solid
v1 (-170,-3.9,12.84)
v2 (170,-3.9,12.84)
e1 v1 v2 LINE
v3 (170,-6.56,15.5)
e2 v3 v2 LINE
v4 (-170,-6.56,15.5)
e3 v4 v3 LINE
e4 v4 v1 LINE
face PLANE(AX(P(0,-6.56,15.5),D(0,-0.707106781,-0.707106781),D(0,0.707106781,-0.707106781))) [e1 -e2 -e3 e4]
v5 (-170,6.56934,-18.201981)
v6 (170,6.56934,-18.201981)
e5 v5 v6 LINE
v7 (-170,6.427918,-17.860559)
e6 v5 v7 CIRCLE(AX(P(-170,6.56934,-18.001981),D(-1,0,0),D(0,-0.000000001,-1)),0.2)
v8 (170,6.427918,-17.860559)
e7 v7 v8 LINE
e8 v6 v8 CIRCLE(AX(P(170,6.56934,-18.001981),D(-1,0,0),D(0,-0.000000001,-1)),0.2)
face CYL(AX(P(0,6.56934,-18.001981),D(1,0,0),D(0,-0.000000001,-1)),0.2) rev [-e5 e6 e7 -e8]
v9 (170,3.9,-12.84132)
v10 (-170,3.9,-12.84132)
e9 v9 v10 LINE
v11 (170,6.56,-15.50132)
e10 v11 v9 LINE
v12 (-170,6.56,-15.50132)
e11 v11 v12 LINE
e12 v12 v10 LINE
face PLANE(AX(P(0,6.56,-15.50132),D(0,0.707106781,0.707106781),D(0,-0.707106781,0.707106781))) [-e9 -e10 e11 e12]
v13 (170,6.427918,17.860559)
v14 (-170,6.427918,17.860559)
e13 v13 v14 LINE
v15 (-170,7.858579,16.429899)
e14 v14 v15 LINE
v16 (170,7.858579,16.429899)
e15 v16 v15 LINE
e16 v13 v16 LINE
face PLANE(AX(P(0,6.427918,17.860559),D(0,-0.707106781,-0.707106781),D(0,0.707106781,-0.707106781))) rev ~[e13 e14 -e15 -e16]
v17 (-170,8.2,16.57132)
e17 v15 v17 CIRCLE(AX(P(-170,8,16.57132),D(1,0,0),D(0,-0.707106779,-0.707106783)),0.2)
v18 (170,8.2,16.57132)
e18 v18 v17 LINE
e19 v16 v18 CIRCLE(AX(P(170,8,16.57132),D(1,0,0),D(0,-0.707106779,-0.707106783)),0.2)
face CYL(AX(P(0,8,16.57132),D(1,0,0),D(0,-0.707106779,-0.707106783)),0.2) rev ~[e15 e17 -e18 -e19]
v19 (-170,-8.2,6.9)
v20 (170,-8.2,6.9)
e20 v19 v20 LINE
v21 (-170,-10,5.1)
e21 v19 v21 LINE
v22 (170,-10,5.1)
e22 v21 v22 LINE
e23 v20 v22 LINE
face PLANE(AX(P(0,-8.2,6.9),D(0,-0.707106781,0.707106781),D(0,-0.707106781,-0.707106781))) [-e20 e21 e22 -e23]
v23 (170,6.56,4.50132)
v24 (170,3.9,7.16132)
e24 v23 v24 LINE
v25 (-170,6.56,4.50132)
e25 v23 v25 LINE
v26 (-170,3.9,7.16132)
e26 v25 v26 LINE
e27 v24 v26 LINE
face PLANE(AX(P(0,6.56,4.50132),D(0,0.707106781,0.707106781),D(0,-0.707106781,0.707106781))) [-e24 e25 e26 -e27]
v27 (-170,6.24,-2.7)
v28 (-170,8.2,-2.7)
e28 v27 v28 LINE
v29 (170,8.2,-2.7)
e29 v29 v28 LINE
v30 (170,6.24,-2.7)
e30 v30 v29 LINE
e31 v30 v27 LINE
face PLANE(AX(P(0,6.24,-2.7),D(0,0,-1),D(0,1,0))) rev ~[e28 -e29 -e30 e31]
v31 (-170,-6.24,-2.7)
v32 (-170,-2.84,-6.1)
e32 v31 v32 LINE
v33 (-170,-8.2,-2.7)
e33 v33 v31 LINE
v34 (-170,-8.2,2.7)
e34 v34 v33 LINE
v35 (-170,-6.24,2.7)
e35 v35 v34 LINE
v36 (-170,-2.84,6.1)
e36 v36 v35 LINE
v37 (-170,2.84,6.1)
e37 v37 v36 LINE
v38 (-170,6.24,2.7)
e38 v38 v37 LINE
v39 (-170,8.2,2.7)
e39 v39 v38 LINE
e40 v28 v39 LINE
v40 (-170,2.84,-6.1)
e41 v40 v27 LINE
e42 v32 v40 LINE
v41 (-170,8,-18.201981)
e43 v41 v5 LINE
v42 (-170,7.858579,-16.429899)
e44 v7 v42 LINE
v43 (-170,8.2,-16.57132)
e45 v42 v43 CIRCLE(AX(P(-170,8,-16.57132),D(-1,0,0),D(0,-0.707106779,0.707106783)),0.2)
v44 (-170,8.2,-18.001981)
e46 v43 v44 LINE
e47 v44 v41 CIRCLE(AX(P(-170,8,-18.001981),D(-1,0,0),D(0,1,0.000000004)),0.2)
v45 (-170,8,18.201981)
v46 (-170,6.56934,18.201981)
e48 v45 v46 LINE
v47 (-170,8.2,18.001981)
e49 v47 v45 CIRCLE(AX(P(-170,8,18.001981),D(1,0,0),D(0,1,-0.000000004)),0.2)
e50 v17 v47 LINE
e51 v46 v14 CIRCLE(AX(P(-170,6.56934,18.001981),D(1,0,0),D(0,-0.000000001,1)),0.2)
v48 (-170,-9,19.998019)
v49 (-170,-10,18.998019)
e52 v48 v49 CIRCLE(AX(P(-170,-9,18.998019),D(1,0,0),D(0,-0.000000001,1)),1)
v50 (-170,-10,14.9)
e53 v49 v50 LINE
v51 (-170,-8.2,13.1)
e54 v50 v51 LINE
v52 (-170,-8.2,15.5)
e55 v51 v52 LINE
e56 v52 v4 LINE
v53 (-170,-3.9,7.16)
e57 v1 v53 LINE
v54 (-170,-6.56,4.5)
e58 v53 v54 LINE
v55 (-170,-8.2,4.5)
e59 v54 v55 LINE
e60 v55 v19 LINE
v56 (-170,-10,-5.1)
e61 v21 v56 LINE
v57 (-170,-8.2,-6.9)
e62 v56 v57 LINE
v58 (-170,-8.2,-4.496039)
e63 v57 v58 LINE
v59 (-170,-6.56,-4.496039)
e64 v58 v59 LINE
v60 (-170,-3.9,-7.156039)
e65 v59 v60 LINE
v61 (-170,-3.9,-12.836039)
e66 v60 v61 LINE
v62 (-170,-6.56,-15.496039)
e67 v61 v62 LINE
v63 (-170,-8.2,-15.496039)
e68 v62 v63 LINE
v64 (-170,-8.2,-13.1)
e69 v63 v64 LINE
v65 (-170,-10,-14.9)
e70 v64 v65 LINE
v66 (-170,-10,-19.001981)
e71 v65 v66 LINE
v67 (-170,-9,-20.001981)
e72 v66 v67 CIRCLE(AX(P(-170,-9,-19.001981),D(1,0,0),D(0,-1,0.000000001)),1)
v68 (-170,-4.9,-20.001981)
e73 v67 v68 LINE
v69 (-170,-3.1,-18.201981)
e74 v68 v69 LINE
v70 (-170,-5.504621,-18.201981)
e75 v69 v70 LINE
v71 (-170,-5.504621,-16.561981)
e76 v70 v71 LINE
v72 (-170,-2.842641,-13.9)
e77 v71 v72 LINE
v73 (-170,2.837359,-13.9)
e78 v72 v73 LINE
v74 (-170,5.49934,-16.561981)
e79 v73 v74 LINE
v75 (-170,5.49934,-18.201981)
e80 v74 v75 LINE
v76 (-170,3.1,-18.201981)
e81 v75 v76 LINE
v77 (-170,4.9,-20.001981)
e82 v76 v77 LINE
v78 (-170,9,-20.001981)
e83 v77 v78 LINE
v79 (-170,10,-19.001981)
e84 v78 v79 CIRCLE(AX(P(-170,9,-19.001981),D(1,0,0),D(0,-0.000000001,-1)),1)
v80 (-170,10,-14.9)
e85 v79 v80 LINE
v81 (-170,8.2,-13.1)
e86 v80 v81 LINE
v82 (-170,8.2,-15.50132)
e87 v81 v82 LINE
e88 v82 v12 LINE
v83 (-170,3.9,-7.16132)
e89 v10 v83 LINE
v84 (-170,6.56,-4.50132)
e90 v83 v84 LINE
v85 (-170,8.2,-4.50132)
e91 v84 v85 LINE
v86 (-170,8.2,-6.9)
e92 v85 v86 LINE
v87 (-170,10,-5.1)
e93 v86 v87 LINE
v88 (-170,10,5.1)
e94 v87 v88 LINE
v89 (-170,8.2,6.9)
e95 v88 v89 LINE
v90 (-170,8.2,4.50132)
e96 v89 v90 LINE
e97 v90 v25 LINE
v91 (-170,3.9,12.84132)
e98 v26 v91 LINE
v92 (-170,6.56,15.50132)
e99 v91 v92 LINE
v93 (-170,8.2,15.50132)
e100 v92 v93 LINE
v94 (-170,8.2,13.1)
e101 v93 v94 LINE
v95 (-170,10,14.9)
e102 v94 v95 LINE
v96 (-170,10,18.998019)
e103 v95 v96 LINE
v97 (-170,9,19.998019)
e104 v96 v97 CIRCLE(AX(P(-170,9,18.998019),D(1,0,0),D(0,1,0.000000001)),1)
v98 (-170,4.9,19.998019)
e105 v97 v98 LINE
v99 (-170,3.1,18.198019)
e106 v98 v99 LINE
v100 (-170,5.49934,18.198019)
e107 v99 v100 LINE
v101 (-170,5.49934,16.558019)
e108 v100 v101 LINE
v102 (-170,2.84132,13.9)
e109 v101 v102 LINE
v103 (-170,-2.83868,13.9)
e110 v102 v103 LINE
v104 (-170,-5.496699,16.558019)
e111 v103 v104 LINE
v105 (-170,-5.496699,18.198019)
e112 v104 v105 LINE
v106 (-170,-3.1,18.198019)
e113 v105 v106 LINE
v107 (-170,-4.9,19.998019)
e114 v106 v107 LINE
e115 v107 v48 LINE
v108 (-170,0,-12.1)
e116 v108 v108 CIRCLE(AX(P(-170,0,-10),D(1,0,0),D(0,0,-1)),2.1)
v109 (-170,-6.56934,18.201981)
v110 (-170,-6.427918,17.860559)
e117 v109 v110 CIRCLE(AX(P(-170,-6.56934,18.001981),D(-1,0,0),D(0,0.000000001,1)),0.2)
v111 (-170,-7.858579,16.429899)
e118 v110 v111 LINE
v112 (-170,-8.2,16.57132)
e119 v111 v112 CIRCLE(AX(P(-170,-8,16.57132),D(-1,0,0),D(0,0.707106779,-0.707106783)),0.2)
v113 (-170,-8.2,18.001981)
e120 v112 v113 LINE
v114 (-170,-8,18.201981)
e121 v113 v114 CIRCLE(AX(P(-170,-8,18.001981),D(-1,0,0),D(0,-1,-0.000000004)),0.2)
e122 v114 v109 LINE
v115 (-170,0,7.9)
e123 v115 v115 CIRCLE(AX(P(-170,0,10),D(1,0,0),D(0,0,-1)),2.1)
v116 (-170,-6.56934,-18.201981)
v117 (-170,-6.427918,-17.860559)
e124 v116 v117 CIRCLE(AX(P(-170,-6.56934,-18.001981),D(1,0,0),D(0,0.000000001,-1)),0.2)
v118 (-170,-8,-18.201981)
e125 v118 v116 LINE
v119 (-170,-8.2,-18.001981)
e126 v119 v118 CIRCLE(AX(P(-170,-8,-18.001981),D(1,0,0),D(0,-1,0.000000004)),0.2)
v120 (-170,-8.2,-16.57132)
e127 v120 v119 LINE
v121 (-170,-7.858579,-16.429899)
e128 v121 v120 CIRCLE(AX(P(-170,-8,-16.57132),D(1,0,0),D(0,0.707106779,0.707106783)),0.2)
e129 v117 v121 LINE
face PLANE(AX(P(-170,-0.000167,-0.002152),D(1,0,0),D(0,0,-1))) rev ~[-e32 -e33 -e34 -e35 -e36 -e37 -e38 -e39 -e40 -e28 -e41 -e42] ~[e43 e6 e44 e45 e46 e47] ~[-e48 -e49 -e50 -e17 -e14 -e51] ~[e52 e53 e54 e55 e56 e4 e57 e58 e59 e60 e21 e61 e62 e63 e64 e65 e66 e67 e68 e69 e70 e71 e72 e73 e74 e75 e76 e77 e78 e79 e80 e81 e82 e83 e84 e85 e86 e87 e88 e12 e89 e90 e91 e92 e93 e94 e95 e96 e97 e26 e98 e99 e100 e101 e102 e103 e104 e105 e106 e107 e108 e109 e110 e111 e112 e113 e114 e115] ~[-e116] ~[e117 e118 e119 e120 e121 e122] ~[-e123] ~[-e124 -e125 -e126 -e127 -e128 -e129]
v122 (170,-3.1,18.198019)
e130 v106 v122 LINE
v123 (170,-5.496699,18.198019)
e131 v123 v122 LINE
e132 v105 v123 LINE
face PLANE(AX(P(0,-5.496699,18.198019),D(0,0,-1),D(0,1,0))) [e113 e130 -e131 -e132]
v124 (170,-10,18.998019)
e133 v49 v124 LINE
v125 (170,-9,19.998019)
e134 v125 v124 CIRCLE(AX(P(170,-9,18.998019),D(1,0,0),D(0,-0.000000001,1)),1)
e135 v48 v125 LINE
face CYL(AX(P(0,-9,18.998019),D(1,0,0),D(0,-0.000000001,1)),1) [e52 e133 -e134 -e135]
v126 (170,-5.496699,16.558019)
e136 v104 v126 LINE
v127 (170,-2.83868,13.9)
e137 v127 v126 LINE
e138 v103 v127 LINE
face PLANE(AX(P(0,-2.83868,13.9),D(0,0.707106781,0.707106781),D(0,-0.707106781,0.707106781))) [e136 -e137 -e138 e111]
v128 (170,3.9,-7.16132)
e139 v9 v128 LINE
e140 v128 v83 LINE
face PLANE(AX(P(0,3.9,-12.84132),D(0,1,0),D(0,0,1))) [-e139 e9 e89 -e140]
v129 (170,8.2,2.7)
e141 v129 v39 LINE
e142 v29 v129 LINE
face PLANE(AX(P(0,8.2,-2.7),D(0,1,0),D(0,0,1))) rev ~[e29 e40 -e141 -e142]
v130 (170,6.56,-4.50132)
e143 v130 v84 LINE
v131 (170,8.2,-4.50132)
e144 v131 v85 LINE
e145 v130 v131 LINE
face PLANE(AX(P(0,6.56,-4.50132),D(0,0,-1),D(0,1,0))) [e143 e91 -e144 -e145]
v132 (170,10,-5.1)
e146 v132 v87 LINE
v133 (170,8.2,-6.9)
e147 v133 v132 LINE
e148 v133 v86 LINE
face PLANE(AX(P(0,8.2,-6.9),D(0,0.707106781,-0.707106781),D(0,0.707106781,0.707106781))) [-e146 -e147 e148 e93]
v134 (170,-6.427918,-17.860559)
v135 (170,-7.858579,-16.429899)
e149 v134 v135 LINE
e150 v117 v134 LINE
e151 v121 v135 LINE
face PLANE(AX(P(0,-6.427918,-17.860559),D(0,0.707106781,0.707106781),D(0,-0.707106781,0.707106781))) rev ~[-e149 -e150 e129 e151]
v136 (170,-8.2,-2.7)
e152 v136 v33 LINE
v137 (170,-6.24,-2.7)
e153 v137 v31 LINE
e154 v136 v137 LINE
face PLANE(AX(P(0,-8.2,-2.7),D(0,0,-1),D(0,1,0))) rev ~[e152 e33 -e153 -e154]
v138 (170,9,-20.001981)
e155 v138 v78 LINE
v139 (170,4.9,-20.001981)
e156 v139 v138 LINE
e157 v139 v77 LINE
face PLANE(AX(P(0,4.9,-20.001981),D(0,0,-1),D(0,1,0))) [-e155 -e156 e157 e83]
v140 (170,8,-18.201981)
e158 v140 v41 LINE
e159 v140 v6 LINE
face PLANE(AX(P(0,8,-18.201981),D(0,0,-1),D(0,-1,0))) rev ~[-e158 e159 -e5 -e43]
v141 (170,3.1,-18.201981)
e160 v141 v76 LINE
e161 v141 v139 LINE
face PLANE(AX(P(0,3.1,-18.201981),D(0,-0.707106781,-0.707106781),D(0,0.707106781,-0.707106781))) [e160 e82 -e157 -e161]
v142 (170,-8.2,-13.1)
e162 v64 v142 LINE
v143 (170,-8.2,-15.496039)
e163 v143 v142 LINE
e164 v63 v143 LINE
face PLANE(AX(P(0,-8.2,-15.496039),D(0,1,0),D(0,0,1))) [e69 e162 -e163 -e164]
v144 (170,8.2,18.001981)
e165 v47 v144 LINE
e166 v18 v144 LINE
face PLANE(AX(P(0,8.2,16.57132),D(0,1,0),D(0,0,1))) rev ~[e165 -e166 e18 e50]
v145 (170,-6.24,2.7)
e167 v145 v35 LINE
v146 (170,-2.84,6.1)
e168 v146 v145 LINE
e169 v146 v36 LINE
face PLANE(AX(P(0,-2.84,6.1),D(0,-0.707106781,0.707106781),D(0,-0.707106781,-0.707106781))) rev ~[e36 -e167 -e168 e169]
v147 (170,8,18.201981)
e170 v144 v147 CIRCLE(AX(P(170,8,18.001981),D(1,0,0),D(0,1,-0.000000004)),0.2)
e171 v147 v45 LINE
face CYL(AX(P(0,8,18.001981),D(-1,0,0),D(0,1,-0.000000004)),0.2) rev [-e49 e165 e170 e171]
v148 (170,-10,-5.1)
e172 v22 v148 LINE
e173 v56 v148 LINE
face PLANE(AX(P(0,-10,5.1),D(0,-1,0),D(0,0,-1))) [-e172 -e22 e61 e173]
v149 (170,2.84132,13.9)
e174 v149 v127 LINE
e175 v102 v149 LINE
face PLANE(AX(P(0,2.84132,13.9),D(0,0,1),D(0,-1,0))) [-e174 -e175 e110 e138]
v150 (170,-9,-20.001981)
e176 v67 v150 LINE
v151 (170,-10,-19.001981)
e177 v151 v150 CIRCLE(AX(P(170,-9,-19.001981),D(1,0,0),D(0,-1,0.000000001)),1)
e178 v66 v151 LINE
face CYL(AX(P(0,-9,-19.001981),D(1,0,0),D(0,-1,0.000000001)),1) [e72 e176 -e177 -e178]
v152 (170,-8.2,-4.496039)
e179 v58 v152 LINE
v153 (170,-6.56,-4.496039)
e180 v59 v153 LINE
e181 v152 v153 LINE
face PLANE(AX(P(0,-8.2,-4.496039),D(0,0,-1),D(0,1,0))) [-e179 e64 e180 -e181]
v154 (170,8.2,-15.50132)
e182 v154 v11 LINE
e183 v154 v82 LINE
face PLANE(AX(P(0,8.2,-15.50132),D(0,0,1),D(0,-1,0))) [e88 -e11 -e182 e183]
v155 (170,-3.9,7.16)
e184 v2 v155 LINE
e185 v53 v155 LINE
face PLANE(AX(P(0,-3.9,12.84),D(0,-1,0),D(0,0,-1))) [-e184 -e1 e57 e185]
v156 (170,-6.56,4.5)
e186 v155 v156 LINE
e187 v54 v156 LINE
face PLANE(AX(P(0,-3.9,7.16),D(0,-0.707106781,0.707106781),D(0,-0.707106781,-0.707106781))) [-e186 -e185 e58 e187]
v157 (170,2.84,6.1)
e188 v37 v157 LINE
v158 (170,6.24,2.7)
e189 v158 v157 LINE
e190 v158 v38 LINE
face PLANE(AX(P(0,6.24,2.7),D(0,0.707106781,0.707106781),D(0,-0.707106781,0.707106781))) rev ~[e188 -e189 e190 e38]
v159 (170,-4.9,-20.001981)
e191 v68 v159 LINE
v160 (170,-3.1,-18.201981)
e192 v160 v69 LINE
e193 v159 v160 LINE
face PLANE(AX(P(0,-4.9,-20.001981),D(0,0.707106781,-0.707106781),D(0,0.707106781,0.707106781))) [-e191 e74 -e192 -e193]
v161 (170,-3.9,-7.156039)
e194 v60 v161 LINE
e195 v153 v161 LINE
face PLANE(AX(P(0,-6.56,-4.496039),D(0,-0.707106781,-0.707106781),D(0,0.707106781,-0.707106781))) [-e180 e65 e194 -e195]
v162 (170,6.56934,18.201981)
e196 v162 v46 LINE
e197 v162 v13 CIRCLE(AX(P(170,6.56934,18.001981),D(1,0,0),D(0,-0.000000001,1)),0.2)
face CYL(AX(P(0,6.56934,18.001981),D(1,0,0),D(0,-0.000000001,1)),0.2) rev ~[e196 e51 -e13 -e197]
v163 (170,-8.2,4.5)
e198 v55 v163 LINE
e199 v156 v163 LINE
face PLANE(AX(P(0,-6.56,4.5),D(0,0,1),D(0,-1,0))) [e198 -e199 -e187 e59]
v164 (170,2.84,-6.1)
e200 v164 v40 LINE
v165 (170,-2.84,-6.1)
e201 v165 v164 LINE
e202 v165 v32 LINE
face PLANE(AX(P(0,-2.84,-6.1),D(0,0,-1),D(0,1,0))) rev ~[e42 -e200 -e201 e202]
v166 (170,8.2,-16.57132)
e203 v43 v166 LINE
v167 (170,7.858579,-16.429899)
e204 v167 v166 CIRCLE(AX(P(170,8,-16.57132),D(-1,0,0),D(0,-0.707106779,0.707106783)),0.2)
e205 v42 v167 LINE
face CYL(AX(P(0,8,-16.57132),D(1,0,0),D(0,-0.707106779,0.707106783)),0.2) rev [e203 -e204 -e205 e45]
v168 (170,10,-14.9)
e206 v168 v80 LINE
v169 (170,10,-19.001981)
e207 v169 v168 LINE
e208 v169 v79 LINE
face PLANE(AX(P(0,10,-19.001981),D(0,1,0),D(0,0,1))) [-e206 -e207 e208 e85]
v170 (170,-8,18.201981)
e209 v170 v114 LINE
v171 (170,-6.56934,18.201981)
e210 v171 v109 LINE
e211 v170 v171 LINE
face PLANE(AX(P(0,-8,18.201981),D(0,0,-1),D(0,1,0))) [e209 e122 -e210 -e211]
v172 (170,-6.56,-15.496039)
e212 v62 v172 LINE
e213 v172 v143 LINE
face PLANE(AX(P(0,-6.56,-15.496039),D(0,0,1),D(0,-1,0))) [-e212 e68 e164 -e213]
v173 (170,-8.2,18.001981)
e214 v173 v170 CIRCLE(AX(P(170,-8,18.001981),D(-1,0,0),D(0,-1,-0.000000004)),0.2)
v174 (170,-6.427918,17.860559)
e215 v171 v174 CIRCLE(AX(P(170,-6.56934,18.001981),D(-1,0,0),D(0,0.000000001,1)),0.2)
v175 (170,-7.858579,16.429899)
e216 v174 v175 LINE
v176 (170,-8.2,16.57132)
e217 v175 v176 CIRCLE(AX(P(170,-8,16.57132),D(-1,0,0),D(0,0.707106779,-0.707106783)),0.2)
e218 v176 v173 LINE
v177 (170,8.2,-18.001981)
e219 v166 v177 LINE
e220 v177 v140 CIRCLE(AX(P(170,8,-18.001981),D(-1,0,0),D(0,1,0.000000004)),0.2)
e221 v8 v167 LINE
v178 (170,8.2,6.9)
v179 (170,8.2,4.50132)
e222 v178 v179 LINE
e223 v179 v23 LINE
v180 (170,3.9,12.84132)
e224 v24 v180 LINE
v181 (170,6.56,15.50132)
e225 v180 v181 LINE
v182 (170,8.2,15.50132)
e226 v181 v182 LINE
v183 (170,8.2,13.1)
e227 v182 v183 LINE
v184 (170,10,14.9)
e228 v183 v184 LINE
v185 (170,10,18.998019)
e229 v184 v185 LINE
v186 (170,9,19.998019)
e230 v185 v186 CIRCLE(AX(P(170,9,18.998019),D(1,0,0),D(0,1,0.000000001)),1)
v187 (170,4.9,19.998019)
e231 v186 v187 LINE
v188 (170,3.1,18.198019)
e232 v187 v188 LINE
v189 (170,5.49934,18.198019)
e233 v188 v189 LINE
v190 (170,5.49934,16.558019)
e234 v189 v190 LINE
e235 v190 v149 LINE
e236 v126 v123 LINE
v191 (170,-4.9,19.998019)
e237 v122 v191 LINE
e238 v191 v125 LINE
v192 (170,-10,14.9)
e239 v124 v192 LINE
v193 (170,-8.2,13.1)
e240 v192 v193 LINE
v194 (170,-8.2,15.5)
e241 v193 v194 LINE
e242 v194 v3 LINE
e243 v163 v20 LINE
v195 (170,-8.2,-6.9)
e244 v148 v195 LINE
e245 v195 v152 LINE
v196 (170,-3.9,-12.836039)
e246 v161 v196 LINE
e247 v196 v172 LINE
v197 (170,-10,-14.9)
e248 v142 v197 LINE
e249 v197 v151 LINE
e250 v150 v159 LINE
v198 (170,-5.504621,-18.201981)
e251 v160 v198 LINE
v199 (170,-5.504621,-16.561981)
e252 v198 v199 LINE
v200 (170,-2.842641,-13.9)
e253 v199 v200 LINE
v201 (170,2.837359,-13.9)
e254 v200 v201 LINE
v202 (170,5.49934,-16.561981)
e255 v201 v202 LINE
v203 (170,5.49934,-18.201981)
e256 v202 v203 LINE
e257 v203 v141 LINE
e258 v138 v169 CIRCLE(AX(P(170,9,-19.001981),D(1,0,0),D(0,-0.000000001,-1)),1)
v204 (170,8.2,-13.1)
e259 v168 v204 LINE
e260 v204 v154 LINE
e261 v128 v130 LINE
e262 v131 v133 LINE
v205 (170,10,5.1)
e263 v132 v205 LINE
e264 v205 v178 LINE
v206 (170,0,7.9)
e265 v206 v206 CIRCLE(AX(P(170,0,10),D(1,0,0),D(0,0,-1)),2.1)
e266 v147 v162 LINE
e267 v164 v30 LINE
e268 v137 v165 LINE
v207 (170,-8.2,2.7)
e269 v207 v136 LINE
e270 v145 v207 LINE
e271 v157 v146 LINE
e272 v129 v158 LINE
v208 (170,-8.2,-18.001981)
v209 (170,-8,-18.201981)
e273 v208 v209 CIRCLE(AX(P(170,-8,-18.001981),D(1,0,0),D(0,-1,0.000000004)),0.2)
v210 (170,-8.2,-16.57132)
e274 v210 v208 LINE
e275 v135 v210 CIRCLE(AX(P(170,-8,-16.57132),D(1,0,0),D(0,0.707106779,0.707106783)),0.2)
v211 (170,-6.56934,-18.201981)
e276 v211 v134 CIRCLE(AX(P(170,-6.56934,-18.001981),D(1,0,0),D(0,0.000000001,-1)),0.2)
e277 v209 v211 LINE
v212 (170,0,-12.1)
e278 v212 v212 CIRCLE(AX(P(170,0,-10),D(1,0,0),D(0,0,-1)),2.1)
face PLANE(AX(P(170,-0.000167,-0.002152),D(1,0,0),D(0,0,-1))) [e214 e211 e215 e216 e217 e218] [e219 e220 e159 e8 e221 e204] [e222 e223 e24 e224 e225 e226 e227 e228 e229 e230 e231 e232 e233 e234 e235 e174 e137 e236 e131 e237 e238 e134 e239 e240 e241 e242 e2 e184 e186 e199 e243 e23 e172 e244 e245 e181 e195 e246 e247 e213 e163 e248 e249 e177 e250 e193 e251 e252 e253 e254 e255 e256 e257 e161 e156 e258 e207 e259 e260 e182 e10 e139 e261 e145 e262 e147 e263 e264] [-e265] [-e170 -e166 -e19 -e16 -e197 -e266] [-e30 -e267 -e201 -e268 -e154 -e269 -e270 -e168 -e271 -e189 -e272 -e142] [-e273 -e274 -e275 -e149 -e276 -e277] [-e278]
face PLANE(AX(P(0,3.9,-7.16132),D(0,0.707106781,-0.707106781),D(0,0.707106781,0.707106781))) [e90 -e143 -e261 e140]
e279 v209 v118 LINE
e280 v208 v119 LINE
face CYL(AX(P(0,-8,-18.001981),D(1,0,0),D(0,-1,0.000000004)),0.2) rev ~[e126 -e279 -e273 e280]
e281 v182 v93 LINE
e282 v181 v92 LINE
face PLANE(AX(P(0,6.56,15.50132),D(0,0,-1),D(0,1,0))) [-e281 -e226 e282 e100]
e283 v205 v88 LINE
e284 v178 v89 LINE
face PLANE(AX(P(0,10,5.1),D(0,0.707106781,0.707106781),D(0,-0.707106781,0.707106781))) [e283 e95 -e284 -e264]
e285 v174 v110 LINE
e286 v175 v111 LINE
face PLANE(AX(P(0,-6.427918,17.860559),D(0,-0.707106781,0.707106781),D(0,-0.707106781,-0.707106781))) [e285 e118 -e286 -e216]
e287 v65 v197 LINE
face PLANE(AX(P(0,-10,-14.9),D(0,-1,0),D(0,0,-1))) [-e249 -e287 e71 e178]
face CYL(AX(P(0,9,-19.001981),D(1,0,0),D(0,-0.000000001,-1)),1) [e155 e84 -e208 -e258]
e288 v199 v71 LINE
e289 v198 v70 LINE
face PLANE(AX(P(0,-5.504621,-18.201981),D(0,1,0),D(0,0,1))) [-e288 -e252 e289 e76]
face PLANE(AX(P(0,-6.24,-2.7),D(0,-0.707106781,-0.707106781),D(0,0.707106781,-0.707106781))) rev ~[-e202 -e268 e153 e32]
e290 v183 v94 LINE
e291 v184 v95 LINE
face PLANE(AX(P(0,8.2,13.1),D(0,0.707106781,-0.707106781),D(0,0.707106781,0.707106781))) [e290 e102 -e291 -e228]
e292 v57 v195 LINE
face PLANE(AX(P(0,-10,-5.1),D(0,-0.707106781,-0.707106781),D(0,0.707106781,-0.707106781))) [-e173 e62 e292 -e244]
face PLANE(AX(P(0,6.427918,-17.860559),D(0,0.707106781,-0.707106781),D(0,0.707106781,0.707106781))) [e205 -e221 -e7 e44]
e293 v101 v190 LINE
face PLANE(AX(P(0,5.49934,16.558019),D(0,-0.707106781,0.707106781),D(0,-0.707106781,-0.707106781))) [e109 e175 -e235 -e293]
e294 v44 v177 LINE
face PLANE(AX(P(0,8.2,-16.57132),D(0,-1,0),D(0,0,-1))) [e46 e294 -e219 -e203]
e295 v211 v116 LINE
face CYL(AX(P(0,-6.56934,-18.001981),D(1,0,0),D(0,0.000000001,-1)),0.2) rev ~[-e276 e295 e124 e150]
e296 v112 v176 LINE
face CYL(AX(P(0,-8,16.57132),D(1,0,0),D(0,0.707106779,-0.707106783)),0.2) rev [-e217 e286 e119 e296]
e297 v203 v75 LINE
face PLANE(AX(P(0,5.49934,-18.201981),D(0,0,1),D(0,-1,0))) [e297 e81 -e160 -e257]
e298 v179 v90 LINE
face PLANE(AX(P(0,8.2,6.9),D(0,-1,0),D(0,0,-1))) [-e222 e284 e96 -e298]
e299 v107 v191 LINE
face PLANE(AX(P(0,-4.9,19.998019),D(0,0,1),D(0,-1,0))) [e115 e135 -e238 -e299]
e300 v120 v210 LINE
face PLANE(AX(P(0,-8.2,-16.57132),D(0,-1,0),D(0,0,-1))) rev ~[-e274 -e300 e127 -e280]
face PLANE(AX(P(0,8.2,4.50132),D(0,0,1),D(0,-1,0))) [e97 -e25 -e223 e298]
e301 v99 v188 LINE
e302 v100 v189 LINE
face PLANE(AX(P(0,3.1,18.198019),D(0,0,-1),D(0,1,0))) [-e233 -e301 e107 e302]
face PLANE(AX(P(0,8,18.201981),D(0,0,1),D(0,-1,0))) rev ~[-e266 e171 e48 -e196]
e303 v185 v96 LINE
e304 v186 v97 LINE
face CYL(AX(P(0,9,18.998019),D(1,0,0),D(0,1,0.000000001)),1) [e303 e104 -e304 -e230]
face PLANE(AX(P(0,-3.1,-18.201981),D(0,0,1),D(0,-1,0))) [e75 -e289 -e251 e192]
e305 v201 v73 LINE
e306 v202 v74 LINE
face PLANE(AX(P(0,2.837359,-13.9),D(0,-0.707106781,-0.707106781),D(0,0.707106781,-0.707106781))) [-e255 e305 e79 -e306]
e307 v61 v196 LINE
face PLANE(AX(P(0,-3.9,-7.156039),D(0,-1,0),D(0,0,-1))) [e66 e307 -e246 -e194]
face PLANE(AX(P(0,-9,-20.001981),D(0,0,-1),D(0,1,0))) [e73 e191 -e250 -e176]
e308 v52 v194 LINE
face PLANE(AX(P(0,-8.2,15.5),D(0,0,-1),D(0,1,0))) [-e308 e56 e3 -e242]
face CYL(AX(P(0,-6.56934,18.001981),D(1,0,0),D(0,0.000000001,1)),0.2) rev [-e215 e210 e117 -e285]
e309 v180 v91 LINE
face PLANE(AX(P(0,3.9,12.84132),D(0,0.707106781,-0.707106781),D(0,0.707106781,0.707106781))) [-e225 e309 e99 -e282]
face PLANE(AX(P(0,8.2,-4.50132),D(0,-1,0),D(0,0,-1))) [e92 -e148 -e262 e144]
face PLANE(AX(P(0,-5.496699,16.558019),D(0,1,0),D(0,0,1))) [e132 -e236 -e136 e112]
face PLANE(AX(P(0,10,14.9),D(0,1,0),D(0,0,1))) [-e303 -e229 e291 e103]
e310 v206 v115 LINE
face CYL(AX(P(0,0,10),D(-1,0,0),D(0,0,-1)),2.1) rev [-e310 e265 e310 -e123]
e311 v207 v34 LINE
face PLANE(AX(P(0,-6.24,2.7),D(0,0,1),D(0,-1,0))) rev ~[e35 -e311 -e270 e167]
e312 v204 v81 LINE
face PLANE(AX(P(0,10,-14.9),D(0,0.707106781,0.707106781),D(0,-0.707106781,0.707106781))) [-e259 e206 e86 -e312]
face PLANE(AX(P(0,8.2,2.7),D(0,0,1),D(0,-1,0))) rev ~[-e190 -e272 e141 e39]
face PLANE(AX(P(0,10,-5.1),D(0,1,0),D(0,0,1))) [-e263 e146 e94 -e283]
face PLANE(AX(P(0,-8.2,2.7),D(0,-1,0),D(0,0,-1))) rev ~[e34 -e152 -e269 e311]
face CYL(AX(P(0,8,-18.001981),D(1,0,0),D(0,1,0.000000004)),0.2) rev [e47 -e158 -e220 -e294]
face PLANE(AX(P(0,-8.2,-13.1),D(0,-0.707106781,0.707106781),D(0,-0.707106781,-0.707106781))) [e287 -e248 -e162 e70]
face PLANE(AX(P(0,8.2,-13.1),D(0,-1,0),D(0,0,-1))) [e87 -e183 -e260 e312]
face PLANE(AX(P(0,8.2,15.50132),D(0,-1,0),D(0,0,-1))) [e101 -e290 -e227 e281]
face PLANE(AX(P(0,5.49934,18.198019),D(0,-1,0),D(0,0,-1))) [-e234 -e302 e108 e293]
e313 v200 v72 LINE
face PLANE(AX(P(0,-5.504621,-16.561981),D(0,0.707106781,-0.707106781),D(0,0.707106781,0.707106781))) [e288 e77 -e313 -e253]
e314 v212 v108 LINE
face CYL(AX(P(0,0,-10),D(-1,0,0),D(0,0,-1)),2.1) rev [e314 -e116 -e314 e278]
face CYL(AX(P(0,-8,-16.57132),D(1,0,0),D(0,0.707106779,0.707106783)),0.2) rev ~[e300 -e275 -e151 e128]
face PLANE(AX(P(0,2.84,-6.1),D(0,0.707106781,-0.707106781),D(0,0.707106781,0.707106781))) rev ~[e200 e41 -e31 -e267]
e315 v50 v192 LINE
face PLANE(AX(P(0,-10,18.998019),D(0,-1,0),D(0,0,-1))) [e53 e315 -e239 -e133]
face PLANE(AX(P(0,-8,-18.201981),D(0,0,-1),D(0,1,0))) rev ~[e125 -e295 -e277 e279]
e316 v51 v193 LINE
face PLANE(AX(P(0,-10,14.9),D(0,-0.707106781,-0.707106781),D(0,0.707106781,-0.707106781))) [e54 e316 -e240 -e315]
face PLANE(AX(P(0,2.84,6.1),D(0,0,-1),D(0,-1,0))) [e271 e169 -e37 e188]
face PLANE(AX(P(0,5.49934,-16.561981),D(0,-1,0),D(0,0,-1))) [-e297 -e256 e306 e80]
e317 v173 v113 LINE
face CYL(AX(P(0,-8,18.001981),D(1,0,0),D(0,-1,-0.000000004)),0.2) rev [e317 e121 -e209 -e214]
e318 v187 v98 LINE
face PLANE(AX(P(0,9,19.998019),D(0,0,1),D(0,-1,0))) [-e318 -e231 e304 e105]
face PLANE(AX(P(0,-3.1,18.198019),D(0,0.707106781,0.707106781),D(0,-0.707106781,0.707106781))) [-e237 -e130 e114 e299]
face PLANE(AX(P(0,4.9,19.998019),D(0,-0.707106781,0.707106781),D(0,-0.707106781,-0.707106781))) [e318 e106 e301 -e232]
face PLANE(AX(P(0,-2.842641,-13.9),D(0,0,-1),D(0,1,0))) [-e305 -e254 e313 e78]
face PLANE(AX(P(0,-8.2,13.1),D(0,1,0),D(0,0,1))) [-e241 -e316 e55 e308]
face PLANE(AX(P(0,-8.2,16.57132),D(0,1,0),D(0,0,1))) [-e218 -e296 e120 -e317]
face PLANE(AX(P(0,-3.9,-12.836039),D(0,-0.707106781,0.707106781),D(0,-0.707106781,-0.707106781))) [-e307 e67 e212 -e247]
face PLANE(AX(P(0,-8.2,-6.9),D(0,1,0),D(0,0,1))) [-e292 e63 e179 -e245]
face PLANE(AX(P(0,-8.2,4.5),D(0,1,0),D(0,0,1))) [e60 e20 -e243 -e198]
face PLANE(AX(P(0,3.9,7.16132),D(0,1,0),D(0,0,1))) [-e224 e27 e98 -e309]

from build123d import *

# Parameters (mm, degrees)
SKETCH5_R           = 2.1
BOSS_EXTRUDE1_DEPTH = 170


with BuildPart() as part:
    # Sketch5 → Boss-Extrude1 (new body, symmetric)
    with BuildSketch(Plane(origin=(0, 0, 0), x_dir=(0, 0, -1), z_dir=(1, 0, 0))):
        with BuildLine():
            Line((-19.998019485, 4.9), (-18.198019485, 3.1))
            Line((-18.198019485, 3.1), (-18.198019485, 5.499339828))
            Line((-18.198019485, 5.499339828), (-16.558019485, 5.499339828))
            Line((-16.558019485, 5.499339828), (-13.9, 2.841320344))
            Line((-13.9, 2.841320344), (-13.9, -2.838679656))
            Line((-13.9, -2.838679656), (-16.558019485, -5.496699141))
            Line((-16.558019485, -5.496699141), (-18.198019485, -5.496699141))
            Line((-18.198019485, -5.496699141), (-18.198019485, -3.1))
            Line((-18.198019485, -3.1), (-19.998019485, -4.9))
            Line((-19.998019485, -4.9), (-19.998019485, -9))
            ThreePointArc((-19.998019485, -9), (-19.705126266, -9.707106781), (-18.998019485, -10))
            Line((-18.998019485, -10), (-14.9, -10))
            Line((-14.9, -10), (-13.1, -8.2))
            Line((-13.1, -8.2), (-15.5, -8.2))
            Line((-15.5, -8.2), (-15.5, -6.56))
            Line((-15.5, -6.56), (-12.84, -3.9))
            Line((-12.84, -3.9), (-7.16, -3.9))
            Line((-7.16, -3.9), (-4.5, -6.56))
            Line((-4.5, -6.56), (-4.5, -8.2))
            Line((-4.5, -8.2), (-6.9, -8.2))
            Line((-6.9, -8.2), (-5.1, -10))
            Line((-5.1, -10), (5.1, -10))
            Line((5.1, -10), (6.9, -8.2))
            Line((6.9, -8.2), (4.496038969, -8.2))
            Line((4.496038969, -8.2), (4.496038969, -6.56))
            Line((4.496038969, -6.56), (7.156038969, -3.9))
            Line((7.156038969, -3.9), (12.836038969, -3.9))
            Line((12.836038969, -3.9), (15.496038969, -6.56))
            Line((15.496038969, -6.56), (15.496038969, -8.2))
            Line((15.496038969, -8.2), (13.1, -8.2))
            Line((13.1, -8.2), (14.9, -10))
            Line((14.9, -10), (19.001980515, -10))
            ThreePointArc((19.001980515, -10), (19.709087297, -9.707106781), (20.001980515, -9))
            Line((20.001980515, -9), (20.001980515, -4.9))
            Line((20.001980515, -4.9), (18.201980515, -3.1))
            Line((18.201980515, -3.1), (18.201980515, -5.504621202))
            Line((18.201980515, -5.504621202), (16.561980515, -5.504621202))
            Line((16.561980515, -5.504621202), (13.9, -2.842640687))
            Line((13.9, -2.842640687), (13.9, 2.837359313))
            Line((13.9, 2.837359313), (16.561980515, 5.499339828))
            Line((16.561980515, 5.499339828), (18.201980515, 5.499339828))
            Line((18.201980515, 5.499339828), (18.201980515, 3.1))
            Line((18.201980515, 3.1), (20.001980515, 4.9))
            Line((20.001980515, 4.9), (20.001980515, 9))
            ThreePointArc((20.001980515, 9), (19.709087297, 9.707106781), (19.001980515, 10))
            Line((19.001980515, 10), (14.9, 10))
            Line((14.9, 10), (13.1, 8.2))
            Line((13.1, 8.2), (15.501320344, 8.2))
            Line((15.501320344, 8.2), (15.501320344, 6.56))
            Line((15.501320344, 6.56), (12.841320344, 3.9))
            Line((12.841320344, 3.9), (7.161320344, 3.9))
            Line((7.161320344, 3.9), (4.501320344, 6.56))
            Line((4.501320344, 6.56), (4.501320344, 8.2))
            Line((4.501320344, 8.2), (6.9, 8.2))
            Line((6.9, 8.2), (5.1, 10))
            Line((5.1, 10), (-5.1, 10))
            Line((-5.1, 10), (-6.9, 8.2))
            Line((-6.9, 8.2), (-4.501320344, 8.2))
            Line((-4.501320344, 8.2), (-4.501320344, 6.56))
            Line((-4.501320344, 6.56), (-7.161320344, 3.9))
            Line((-7.161320344, 3.9), (-12.841320344, 3.9))
            Line((-12.841320344, 3.9), (-15.501320344, 6.56))
            Line((-15.501320344, 6.56), (-15.501320344, 8.2))
            Line((-15.501320344, 8.2), (-13.1, 8.2))
            Line((-13.1, 8.2), (-14.9, 10))
            Line((-14.9, 10), (-18.998019485, 10))
            ThreePointArc((-18.998019485, 10), (-19.705126266, 9.707106781), (-19.998019485, 9))
            Line((-19.998019485, 9), (-19.998019485, 4.9))
        make_face()
        with Locations((-10, 0)):
            Circle(SKETCH5_R, mode=Mode.SUBTRACT)
        with Locations((10, 0)):
            Circle(SKETCH5_R, mode=Mode.SUBTRACT)
        Polygon((6.1, -2.84), (6.1, 2.84), (2.7, 6.24), (2.7, 8.2), (-2.7, 8.2), (-2.7, 6.24), (-6.1, 2.84), (-6.1, -2.84), (-2.7, -6.24), (-2.7, -8.2), (2.7, -8.2), (2.7, -6.24), align=None, mode=Mode.SUBTRACT)
        with BuildLine():
            Line((16.571320344, 8.2), (18.001980515, 8.2))
            ThreePointArc((18.001980515, 8.2), (18.143401872, 8.141421356), (18.201980515, 8))
            Line((18.201980515, 8), (18.201980515, 6.569339828))
            ThreePointArc((18.201980515, 6.569339828), (18.078517202, 6.384563922), (17.860559159, 6.427918472))
            Line((17.860559159, 6.427918472), (16.429898987, 7.858578644))
            ThreePointArc((16.429898987, 7.858578644), (16.386544437, 8.076536686), (16.571320344, 8.2))
        make_face(mode=Mode.SUBTRACT)
        with BuildLine():
            Line((16.571320344, -8.2), (18.001980515, -8.2))
            ThreePointArc((18.001980515, -8.2), (18.143401872, -8.141421356), (18.201980515, -8))
            Line((18.201980515, -8), (18.201980515, -6.569339828))
            ThreePointArc((18.201980515, -6.569339828), (18.078517202, -6.384563922), (17.860559159, -6.427918472))
            Line((17.860559159, -6.427918472), (16.429898987, -7.858578644))
            ThreePointArc((16.429898987, -7.858578644), (16.386544437, -8.076536686), (16.571320344, -8.2))
        make_face(mode=Mode.SUBTRACT)
        with BuildLine():
            Line((-17.860559159, 6.427918472), (-16.429898987, 7.858578644))
            ThreePointArc((-16.429898987, 7.858578644), (-16.386544437, 8.076536686), (-16.571320344, 8.2))
            Line((-16.571320344, 8.2), (-18.001980515, 8.2))
            ThreePointArc((-18.001980515, 8.2), (-18.143401872, 8.141421356), (-18.201980515, 8))
            Line((-18.201980515, 8), (-18.201980515, 6.569339828))
            ThreePointArc((-18.201980515, 6.569339828), (-18.078517202, 6.384563922), (-17.860559159, 6.427918472))
        make_face(mode=Mode.SUBTRACT)
        with BuildLine():
            Line((-16.571320344, -8.2), (-18.001980515, -8.2))
            ThreePointArc((-18.001980515, -8.2), (-18.143401872, -8.141421356), (-18.201980515, -8))
            Line((-18.201980515, -8), (-18.201980515, -6.569339828))
            ThreePointArc((-18.201980515, -6.569339828), (-18.078517202, -6.384563922), (-17.860559159, -6.427918472))
            Line((-17.860559159, -6.427918472), (-16.429898987, -7.858578644))
            ThreePointArc((-16.429898987, -7.858578644), (-16.386544437, -8.076536686), (-16.571320344, -8.2))
        make_face(mode=Mode.SUBTRACT)
    extrude(amount=BOSS_EXTRUDE1_DEPTH, both=True)


solid = part.part
